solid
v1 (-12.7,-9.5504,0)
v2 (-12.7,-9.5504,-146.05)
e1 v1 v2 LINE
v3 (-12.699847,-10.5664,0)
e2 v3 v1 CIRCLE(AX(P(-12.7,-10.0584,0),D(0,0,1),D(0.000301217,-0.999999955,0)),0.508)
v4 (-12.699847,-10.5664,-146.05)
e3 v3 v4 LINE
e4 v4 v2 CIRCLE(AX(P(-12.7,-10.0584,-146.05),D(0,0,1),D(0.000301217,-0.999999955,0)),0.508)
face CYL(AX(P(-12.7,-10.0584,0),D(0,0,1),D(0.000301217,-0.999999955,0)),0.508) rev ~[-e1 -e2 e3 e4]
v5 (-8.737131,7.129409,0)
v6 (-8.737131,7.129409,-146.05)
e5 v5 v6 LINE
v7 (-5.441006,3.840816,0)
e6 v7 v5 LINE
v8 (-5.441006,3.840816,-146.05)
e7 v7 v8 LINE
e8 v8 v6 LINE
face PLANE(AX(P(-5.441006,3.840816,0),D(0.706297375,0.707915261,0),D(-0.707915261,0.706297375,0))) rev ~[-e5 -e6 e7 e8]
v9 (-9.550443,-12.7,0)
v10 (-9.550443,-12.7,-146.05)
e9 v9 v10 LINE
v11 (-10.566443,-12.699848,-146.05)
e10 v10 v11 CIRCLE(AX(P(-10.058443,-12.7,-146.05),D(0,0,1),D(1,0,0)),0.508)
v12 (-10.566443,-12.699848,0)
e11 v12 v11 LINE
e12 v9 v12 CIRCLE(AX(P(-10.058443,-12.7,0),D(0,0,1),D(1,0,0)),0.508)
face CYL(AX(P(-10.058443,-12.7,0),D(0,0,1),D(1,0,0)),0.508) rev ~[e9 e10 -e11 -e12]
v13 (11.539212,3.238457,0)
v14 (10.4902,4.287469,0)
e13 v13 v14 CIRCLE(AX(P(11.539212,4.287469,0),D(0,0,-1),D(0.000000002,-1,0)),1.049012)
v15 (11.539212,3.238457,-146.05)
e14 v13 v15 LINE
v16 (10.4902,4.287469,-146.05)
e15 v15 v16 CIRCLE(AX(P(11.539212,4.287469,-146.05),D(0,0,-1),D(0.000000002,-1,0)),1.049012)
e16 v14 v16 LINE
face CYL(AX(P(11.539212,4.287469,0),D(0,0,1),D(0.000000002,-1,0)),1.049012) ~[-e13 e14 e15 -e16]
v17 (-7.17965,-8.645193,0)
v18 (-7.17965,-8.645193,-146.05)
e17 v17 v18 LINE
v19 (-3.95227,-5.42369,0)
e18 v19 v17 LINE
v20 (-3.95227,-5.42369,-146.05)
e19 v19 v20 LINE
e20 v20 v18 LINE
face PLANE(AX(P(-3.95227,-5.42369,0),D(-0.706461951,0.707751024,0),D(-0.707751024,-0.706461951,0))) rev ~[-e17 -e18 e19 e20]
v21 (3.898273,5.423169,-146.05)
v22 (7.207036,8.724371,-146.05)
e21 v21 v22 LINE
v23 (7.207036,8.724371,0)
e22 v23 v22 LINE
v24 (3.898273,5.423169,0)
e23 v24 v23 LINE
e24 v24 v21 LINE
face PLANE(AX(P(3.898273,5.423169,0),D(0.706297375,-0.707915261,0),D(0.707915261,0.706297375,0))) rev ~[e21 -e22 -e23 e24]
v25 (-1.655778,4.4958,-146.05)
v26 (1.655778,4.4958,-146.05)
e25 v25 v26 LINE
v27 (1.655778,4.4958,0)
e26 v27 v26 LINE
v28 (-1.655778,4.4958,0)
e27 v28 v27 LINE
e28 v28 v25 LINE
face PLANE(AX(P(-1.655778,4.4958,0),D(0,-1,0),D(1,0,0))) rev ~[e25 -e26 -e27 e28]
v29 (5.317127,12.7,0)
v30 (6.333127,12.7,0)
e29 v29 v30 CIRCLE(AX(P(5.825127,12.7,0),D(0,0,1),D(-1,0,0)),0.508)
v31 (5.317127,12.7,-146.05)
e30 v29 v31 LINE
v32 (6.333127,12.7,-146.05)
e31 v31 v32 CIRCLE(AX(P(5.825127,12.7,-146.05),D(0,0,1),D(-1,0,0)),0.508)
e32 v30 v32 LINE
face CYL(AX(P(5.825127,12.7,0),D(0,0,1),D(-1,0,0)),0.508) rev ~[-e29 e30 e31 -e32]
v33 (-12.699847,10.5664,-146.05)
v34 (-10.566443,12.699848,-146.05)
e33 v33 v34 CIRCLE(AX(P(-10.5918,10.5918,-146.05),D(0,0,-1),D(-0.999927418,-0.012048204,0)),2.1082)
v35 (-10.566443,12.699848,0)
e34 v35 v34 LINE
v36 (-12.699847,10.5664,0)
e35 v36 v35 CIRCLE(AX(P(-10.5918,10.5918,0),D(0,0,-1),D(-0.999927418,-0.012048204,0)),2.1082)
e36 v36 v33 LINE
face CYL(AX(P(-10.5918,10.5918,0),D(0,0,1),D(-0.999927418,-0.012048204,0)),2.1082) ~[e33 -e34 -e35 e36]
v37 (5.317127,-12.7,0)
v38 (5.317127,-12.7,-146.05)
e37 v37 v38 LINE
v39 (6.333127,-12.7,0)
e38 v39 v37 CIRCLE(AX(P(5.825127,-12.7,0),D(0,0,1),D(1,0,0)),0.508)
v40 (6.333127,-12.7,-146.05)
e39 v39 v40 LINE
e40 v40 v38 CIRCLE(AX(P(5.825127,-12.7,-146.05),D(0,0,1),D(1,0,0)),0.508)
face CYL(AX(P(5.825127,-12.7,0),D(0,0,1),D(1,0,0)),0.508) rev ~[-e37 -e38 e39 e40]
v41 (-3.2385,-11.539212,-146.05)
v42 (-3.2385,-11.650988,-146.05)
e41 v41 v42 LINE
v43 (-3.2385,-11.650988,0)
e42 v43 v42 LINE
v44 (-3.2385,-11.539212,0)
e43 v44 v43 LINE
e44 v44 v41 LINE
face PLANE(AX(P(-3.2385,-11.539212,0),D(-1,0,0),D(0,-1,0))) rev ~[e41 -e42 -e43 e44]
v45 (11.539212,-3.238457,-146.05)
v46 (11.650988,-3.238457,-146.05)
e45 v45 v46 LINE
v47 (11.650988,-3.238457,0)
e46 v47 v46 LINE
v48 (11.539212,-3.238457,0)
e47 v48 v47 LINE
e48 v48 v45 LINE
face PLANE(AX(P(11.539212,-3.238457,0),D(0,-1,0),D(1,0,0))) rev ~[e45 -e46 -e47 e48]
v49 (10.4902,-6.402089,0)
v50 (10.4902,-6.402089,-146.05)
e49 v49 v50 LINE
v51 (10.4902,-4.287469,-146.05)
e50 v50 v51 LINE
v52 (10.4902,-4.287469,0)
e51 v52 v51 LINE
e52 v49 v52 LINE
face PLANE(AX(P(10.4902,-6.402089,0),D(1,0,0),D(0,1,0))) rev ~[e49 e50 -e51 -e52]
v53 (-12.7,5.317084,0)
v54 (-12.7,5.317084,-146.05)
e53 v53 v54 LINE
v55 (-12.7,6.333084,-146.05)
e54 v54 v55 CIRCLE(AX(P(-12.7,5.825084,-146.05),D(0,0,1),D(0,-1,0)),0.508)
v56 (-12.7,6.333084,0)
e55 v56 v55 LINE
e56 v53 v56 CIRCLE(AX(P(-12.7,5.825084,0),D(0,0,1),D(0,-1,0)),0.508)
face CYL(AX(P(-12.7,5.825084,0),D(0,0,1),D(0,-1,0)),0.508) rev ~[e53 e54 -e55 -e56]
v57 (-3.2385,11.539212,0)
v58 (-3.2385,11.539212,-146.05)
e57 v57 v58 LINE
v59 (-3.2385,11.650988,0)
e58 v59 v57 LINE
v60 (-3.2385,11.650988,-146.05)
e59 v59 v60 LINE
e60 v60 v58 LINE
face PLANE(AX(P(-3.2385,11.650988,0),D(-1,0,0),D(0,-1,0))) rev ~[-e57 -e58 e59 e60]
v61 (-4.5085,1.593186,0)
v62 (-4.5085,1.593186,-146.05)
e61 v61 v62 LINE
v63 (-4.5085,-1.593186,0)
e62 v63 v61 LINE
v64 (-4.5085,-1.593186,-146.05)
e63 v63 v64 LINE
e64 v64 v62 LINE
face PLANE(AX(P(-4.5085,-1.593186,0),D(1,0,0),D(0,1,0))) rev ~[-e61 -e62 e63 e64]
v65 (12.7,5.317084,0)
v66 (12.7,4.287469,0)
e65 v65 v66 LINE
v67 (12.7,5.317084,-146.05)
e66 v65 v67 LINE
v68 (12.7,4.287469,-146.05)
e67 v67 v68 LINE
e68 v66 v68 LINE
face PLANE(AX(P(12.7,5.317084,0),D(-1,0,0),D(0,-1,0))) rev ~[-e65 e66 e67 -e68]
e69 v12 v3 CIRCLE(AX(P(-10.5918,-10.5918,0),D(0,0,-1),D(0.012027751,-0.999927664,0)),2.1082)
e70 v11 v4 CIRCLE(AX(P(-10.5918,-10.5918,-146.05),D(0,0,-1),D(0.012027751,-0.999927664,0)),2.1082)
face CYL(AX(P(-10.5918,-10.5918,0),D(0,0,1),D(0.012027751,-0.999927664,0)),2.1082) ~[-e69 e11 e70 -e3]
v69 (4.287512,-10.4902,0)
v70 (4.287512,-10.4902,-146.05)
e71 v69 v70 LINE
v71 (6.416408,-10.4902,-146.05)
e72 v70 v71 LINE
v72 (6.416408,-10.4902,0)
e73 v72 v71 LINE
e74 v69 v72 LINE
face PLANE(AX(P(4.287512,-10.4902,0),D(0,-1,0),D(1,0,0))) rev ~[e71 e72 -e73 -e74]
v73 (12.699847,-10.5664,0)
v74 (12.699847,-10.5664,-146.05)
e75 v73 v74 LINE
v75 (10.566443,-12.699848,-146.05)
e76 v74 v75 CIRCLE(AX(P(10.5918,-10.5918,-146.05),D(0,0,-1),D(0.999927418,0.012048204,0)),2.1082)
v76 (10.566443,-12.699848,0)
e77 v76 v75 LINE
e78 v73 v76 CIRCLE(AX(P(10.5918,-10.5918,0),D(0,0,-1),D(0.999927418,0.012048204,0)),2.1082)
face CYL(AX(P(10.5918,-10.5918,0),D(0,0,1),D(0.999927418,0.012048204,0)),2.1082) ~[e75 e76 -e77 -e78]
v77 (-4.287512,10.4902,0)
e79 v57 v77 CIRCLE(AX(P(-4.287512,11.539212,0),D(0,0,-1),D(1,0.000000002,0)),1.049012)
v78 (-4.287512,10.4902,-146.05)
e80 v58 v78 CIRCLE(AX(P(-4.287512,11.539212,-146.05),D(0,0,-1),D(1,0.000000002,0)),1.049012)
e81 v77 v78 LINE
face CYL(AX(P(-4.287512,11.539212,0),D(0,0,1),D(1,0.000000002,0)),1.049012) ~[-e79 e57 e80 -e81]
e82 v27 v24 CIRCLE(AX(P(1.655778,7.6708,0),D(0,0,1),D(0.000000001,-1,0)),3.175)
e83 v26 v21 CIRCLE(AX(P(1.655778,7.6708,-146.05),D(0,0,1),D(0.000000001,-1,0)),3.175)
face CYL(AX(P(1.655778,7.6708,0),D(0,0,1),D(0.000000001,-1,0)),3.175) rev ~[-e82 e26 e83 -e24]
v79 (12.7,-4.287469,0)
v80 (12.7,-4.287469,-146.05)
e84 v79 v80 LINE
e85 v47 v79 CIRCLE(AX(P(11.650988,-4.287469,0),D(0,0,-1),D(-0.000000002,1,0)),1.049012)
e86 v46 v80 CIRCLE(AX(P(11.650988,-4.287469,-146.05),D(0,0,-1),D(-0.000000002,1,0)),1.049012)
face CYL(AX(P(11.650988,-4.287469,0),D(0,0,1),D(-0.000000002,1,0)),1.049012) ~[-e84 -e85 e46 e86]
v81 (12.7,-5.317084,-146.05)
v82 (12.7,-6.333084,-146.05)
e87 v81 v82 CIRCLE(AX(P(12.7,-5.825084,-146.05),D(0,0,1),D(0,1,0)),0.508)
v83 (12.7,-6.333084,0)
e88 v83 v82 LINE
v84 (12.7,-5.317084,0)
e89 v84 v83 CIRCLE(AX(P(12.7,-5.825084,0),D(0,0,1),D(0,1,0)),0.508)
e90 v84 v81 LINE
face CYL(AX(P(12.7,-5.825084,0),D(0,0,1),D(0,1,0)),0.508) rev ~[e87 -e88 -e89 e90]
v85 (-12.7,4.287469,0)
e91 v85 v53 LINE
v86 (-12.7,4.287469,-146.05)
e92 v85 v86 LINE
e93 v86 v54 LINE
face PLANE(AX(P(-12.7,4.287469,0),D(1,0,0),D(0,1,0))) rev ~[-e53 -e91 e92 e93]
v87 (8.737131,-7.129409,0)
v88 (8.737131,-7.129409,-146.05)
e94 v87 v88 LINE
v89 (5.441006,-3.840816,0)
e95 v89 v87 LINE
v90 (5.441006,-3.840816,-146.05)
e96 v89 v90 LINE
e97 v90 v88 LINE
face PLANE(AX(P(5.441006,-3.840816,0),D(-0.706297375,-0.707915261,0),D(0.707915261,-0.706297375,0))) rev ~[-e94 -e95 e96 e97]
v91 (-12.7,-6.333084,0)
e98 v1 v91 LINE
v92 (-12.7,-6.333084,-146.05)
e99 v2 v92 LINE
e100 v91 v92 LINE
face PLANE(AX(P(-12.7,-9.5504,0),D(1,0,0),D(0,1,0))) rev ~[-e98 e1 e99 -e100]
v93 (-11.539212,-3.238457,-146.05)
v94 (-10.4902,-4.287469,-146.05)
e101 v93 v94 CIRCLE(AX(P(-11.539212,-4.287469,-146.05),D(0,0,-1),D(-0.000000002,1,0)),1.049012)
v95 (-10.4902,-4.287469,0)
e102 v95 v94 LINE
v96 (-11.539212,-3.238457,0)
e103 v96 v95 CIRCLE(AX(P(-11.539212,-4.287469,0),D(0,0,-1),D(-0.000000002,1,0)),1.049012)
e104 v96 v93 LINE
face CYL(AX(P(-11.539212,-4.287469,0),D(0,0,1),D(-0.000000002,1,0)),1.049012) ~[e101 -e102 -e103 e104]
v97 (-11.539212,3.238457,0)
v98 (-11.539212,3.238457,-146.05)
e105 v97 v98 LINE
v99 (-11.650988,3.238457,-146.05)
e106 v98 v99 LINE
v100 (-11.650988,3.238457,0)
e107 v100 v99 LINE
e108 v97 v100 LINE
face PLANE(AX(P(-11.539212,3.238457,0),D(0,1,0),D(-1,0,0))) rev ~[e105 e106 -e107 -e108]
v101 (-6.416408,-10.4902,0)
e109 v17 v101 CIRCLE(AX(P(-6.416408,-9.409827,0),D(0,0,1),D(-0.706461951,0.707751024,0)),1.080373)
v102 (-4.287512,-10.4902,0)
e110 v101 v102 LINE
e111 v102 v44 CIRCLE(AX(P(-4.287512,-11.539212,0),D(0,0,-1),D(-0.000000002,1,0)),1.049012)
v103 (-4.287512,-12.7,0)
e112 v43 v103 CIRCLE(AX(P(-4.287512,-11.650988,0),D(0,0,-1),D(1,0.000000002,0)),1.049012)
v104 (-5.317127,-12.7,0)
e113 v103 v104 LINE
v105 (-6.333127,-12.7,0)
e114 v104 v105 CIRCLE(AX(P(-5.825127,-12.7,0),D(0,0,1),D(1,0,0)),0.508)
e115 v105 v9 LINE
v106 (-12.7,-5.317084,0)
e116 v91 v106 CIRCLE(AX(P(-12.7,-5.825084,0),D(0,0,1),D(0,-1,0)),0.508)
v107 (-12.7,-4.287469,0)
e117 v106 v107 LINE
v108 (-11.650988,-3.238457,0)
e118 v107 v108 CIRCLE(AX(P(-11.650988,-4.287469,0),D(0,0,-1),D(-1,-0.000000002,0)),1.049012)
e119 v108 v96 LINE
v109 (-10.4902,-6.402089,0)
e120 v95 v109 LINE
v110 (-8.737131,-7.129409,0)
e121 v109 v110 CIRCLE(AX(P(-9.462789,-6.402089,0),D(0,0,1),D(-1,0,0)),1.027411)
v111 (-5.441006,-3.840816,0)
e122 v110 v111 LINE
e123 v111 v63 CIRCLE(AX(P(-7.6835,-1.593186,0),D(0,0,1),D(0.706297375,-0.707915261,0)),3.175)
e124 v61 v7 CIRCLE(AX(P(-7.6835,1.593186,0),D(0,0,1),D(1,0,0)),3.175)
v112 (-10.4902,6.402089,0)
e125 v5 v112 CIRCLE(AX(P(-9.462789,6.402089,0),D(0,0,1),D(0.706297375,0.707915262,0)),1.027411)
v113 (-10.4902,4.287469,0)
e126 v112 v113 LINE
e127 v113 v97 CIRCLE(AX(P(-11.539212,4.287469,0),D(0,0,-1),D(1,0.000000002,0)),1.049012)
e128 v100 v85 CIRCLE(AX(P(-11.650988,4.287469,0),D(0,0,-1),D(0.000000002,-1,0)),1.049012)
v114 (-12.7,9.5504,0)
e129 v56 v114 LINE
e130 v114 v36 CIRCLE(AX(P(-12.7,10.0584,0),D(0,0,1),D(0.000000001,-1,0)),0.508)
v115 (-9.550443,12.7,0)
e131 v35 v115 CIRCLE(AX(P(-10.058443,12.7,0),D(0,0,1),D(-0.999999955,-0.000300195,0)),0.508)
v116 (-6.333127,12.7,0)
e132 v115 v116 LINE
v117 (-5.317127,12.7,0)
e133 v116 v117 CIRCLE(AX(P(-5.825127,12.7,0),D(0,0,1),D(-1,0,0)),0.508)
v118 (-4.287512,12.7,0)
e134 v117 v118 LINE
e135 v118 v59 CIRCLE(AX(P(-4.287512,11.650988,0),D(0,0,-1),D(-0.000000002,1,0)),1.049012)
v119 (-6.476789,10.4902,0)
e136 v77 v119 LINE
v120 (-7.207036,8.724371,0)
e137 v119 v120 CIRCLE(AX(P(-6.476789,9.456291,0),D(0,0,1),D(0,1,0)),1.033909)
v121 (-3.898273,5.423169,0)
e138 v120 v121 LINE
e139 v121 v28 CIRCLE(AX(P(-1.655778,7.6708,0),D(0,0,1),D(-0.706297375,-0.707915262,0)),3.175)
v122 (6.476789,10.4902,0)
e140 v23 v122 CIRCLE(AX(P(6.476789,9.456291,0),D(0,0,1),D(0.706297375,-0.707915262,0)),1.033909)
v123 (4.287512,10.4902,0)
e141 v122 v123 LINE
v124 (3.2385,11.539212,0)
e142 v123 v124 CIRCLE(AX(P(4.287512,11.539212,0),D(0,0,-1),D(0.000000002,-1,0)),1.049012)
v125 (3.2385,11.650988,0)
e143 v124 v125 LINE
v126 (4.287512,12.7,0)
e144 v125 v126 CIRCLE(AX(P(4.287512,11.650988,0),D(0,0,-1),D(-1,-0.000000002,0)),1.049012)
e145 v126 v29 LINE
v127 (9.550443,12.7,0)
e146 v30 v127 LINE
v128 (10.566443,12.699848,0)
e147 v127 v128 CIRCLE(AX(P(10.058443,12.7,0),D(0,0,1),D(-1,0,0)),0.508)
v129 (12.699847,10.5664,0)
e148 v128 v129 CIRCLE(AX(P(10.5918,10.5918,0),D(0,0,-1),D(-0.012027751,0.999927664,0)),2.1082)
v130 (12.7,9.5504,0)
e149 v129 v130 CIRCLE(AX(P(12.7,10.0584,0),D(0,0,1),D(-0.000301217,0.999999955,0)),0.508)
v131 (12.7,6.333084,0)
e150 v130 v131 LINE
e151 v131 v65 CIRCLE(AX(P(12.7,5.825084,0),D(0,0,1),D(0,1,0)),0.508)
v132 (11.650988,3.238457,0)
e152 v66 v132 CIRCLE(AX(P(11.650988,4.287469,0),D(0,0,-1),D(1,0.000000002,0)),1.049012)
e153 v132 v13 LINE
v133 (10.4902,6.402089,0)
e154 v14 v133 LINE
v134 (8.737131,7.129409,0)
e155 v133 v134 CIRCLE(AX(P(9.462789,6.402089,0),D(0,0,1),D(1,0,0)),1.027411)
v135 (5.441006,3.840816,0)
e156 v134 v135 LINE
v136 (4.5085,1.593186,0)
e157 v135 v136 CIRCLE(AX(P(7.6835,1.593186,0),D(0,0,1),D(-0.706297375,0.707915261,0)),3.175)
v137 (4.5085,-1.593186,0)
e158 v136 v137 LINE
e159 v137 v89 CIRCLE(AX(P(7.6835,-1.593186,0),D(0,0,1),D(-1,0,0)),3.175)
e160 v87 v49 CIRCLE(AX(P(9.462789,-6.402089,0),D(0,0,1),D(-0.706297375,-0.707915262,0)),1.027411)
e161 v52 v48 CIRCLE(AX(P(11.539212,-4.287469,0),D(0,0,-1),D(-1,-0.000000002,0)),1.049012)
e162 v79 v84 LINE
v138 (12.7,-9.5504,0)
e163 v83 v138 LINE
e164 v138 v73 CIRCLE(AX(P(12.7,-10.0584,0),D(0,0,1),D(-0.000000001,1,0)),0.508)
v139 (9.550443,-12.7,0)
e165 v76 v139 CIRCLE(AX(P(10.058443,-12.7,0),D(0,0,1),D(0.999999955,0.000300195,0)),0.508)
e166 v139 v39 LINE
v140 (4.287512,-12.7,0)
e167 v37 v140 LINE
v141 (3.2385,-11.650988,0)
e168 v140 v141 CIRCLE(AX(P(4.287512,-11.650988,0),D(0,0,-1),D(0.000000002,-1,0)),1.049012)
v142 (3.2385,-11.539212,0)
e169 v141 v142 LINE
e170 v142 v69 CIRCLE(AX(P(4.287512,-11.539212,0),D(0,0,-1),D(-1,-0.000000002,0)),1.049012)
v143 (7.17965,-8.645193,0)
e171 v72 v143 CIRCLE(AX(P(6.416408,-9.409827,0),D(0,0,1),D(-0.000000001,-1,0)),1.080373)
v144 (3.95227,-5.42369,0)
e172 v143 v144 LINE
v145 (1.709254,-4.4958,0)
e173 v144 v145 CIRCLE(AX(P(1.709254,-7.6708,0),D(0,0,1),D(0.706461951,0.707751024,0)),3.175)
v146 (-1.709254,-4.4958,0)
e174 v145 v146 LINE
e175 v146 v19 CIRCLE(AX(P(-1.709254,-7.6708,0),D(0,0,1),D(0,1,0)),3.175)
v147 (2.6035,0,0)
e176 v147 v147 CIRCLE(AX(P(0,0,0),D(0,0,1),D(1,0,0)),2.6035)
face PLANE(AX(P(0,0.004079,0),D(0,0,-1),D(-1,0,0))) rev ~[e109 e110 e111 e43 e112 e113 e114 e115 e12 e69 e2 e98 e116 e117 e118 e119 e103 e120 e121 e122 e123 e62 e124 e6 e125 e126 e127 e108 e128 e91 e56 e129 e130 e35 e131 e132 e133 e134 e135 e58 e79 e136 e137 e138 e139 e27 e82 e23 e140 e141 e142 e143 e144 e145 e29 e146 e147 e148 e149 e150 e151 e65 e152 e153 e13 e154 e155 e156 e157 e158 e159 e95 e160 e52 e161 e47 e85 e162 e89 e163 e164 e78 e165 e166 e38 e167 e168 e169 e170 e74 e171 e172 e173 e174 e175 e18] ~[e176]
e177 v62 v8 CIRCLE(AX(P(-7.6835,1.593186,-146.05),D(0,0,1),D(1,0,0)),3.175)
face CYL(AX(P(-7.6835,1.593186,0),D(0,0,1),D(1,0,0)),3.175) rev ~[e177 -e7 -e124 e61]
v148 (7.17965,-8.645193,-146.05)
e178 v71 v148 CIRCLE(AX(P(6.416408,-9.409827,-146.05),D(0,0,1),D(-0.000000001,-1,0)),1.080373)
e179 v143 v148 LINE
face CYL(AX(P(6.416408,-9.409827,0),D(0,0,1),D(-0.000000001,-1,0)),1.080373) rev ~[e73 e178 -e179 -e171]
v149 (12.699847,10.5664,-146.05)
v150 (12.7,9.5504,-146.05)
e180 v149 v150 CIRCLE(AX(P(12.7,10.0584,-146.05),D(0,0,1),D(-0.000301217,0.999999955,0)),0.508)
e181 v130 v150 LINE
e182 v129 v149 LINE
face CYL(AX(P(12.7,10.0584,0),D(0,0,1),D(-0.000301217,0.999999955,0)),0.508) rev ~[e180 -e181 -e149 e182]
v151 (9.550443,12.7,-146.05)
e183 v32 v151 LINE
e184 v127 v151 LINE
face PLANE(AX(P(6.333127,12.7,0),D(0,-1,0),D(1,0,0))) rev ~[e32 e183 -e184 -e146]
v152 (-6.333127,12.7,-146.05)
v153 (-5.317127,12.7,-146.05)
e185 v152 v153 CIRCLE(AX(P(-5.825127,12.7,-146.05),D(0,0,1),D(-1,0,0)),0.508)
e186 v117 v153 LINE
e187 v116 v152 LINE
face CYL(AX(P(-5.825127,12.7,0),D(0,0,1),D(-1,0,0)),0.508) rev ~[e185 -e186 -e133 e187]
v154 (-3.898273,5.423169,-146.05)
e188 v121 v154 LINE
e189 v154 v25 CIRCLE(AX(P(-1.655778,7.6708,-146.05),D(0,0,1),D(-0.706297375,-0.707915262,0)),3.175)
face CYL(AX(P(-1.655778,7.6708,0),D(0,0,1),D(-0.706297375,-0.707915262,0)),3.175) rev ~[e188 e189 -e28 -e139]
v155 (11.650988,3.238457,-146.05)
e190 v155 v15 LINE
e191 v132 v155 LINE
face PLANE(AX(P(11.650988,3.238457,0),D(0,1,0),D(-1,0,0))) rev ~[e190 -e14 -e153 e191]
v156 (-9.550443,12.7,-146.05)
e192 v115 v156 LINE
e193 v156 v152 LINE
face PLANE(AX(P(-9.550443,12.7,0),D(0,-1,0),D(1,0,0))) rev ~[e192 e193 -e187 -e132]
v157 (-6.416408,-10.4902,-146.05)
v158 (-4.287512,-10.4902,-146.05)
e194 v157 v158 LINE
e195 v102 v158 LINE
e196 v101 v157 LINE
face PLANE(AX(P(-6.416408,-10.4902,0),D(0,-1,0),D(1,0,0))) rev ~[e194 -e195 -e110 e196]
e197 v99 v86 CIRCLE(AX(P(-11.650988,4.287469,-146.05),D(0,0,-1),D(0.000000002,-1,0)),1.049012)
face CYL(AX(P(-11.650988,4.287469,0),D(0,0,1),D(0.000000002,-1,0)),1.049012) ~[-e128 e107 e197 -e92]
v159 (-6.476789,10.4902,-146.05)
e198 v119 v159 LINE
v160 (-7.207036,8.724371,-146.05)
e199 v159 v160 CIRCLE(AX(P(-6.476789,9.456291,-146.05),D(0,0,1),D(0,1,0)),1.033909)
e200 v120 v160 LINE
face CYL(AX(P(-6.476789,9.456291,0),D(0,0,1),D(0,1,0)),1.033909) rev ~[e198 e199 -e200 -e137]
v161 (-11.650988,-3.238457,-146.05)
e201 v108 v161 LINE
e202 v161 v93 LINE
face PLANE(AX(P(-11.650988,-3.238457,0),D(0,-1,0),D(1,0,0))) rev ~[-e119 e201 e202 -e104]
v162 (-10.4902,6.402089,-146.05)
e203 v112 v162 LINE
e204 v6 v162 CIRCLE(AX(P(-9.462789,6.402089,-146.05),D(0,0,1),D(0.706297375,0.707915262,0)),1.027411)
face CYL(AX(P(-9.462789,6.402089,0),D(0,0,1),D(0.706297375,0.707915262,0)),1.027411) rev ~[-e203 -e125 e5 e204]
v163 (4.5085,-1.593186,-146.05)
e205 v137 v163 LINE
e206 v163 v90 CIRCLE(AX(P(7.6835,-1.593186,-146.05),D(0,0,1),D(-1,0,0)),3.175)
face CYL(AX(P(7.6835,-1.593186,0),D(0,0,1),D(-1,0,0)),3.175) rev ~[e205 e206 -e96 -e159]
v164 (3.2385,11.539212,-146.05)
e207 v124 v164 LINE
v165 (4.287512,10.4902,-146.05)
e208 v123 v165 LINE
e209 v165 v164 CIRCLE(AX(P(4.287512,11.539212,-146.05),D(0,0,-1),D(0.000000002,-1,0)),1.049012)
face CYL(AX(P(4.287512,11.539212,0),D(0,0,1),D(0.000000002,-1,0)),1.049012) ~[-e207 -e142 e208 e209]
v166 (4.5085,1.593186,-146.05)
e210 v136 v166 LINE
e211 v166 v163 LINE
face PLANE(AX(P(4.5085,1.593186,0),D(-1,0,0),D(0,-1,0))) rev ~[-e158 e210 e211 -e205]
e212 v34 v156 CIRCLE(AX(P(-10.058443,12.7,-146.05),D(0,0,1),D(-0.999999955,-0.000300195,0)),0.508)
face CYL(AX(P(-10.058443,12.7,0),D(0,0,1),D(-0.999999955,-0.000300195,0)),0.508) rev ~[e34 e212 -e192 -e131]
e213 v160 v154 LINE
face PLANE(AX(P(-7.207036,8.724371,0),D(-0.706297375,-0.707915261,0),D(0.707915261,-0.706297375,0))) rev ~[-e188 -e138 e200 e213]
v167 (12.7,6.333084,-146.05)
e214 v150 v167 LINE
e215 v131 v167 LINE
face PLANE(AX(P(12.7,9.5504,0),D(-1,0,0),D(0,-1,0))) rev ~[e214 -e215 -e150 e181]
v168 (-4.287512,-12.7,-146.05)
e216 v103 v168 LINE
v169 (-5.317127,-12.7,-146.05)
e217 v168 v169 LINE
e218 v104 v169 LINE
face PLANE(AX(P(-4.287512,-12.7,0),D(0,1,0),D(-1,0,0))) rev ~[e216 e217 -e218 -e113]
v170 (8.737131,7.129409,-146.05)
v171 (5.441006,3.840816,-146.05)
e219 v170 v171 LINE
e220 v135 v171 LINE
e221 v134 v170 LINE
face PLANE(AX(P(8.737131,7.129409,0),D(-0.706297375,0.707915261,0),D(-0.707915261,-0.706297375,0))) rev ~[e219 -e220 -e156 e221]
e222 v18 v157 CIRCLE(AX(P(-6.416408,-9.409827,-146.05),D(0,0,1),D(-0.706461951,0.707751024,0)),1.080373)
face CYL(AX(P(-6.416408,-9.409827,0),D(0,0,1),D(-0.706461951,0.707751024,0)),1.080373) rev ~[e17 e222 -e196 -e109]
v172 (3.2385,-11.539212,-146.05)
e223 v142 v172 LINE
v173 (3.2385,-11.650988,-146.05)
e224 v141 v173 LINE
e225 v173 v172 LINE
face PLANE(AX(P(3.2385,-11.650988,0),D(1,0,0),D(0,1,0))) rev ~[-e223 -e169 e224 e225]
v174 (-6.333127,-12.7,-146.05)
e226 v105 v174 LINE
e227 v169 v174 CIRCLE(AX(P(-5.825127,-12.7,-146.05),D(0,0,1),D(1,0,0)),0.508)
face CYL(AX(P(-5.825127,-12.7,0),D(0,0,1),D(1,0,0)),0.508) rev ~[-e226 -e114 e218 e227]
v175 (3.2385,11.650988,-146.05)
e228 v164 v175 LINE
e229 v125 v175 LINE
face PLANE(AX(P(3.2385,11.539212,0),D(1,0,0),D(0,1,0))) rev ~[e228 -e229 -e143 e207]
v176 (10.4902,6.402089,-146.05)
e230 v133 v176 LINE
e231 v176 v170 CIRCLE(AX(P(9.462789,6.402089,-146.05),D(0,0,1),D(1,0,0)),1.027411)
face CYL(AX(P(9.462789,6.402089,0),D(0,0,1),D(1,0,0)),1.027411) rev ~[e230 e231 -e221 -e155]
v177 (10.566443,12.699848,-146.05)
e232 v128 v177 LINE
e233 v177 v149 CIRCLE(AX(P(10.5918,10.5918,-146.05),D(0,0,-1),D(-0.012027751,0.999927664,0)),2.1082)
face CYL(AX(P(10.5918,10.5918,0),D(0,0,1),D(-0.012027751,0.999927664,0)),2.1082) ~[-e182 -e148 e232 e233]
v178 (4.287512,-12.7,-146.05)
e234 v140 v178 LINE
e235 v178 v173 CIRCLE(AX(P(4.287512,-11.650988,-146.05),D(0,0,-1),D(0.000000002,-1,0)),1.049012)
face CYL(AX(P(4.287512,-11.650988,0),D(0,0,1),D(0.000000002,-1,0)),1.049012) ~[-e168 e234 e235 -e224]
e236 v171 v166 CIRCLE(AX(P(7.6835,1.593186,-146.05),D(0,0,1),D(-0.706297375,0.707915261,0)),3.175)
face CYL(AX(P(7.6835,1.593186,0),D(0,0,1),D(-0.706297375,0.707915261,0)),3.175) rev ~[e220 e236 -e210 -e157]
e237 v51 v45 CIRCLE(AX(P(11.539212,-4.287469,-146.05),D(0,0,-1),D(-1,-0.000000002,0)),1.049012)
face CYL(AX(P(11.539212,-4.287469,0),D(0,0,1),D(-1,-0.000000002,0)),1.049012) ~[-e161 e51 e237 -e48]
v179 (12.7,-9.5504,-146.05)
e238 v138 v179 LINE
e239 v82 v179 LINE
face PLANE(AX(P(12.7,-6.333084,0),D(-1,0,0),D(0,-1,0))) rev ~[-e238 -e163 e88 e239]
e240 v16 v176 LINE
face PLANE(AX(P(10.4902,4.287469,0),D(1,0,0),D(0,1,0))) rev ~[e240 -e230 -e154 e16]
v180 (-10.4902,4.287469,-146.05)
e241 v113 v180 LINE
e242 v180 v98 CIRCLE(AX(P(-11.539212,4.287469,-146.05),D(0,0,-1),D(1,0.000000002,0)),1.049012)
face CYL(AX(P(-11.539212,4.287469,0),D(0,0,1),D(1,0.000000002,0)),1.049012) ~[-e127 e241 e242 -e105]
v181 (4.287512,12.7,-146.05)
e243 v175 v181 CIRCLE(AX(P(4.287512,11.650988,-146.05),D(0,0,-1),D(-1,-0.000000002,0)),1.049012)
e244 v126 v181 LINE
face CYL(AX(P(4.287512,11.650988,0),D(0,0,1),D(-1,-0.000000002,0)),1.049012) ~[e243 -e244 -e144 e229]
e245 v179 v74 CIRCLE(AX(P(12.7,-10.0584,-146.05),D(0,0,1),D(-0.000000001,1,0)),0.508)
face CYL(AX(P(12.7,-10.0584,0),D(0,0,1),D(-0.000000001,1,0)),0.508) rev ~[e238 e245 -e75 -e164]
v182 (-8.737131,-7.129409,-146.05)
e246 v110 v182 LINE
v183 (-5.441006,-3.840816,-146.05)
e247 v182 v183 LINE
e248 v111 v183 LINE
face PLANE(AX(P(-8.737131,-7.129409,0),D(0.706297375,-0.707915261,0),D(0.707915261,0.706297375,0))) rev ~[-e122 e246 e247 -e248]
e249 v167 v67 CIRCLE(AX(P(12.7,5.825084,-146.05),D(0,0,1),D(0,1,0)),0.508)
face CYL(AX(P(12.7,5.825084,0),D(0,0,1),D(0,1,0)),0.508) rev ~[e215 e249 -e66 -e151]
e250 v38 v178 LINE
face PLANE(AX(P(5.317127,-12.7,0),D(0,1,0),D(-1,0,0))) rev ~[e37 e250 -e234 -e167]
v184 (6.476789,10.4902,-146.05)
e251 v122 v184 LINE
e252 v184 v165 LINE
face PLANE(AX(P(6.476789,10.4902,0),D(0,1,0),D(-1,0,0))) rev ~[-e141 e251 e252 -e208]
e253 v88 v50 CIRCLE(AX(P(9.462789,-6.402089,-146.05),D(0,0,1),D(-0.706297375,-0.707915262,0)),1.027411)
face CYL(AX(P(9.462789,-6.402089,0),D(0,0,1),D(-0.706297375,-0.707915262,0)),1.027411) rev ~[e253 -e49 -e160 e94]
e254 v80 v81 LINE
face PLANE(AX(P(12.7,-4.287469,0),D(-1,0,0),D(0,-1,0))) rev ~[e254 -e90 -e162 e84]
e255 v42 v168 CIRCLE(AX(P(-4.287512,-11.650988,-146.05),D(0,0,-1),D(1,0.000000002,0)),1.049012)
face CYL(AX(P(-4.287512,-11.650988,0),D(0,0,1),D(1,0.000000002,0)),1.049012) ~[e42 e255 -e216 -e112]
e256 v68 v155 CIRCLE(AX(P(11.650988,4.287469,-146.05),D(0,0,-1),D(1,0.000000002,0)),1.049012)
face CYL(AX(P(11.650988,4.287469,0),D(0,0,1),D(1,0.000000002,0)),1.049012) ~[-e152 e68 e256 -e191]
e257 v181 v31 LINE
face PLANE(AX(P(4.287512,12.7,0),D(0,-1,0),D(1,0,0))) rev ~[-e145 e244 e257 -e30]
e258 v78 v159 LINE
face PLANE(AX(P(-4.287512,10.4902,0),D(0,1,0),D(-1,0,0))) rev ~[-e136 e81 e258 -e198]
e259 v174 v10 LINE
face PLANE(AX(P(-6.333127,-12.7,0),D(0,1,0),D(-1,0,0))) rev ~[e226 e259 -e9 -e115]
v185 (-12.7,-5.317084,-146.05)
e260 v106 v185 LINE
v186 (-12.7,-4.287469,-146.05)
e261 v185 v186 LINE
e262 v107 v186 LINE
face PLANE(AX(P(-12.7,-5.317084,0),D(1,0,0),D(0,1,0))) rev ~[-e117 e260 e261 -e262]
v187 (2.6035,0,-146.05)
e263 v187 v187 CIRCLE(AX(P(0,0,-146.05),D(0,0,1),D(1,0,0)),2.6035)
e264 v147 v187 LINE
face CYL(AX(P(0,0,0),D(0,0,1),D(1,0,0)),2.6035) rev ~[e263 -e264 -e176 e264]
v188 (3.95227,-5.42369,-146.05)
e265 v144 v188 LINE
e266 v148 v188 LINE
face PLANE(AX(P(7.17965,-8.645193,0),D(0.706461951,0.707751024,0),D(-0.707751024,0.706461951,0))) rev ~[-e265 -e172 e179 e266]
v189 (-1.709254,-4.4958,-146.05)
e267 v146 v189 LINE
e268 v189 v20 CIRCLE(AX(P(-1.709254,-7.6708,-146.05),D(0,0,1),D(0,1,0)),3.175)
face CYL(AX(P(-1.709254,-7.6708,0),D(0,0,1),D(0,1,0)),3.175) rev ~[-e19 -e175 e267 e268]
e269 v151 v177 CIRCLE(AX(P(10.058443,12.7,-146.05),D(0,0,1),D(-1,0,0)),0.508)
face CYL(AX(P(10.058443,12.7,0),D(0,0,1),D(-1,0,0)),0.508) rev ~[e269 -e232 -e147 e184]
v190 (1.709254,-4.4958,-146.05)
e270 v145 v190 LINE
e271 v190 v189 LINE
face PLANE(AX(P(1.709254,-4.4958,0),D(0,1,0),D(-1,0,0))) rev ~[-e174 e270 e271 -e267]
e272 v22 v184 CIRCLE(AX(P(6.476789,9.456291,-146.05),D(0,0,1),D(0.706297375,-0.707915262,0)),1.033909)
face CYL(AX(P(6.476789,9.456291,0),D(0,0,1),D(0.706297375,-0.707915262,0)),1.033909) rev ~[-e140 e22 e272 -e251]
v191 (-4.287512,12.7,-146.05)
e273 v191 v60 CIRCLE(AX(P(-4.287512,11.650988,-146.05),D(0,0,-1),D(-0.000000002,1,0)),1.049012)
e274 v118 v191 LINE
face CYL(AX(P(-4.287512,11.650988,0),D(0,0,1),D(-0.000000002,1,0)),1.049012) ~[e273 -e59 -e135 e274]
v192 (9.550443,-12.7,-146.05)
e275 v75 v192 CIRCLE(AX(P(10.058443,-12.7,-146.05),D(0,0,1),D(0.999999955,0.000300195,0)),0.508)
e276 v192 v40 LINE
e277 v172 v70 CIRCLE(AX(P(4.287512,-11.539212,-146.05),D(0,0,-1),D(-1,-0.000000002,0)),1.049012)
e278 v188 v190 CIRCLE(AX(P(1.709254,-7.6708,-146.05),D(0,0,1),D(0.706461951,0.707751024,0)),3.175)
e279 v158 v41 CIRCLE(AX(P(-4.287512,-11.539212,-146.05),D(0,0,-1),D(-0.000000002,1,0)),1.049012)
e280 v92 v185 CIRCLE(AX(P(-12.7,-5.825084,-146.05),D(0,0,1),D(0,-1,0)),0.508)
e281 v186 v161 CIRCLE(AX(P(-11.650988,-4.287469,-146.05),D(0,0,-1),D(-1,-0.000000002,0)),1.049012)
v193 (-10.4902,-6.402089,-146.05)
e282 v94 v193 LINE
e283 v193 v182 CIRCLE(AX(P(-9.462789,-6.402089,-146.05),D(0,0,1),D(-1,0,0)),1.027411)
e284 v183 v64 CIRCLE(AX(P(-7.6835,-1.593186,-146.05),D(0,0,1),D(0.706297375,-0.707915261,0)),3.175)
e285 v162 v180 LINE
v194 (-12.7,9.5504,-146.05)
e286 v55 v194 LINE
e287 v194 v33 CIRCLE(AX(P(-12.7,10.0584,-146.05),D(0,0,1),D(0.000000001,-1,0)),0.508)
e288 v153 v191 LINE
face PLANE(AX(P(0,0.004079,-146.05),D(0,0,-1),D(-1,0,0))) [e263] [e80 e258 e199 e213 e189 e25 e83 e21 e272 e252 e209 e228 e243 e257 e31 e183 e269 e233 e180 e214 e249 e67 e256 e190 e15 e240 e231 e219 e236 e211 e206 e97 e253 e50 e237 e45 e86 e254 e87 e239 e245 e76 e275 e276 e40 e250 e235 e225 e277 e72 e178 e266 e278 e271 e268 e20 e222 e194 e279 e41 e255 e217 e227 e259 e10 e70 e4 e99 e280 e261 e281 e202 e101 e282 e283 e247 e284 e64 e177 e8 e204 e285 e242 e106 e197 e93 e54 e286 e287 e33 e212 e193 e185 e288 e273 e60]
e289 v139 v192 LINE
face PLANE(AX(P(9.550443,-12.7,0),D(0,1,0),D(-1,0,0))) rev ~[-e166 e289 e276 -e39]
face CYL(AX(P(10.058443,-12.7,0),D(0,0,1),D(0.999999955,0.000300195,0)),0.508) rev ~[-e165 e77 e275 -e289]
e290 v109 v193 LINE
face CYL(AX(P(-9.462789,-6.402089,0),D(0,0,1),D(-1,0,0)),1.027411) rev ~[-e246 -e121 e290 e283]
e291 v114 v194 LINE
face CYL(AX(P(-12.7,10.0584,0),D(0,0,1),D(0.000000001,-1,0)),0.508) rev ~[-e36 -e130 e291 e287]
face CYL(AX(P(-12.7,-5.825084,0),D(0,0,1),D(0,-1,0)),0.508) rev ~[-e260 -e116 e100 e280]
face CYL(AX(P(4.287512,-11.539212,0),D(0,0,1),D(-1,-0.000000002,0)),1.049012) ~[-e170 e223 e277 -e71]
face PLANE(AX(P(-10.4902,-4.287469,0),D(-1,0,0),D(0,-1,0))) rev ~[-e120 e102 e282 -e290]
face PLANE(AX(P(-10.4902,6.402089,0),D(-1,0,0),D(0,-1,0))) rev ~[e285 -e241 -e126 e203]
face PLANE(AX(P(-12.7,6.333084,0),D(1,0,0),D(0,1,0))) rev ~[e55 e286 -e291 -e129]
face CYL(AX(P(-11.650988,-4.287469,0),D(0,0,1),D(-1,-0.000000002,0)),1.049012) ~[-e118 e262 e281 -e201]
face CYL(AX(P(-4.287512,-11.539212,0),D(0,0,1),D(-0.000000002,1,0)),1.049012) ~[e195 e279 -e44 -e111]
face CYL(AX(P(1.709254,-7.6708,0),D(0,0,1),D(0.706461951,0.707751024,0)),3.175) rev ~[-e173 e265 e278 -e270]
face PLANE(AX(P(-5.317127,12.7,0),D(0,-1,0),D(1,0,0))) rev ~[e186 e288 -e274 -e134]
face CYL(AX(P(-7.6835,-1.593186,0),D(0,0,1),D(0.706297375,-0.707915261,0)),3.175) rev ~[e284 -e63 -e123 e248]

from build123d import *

# Parameters (mm, degrees)
SKETCH1_R      = 2.6035
EXTRUDE1_DEPTH = 146.05


with BuildPart() as part:
    # Sketch1 → Extrude1 (new body)
    with BuildSketch(Plane.XY):
        with BuildLine():
            Line((-7.207036008, 8.724370562), (-3.898272566, 5.423169045))
            ThreePointArc((-3.898272566, 5.423169045), (-2.869120213, 4.736787962), (-1.655778399, 4.4958))
            Line((-1.655778399, 4.4958), (1.655778399, 4.4958))
            ThreePointArc((1.655778399, 4.4958), (2.869120213, 4.736787962), (3.898272566, 5.423169045))
            Line((3.898272566, 5.423169045), (7.207036008, 8.724370562))
            ThreePointArc((7.207036008, 8.724370562), (7.432222385, 9.85140422), (6.476788598, 10.4902))
            Line((6.476788598, 10.4902), (4.287512407, 10.4902))
            ThreePointArc((4.287512407, 10.4902), (3.54574862, 10.79744862), (3.2385, 11.539212407))
            Line((3.2385, 11.539212407), (3.2385, 11.650987593))
            ThreePointArc((3.2385, 11.650987593), (3.54574862, 12.39275138), (4.287512407, 12.7))
            Line((4.287512407, 12.7), (5.317126718, 12.7))
            ThreePointArc((5.317126718, 12.7), (5.825126718, 12.192), (6.333126718, 12.7))
            Line((6.333126718, 12.7), (9.550443118, 12.7))
            ThreePointArc((9.550443118, 12.7), (10.058366869, 12.192000006), (10.566443095, 12.699847501))
            ThreePointArc((10.566443095, 12.699847501), (12.082537762, 12.08250727), (12.699846982, 10.566399977))
            ThreePointArc((12.699846982, 10.566399977), (12.192000006, 10.058323491), (12.7, 9.5504))
            Line((12.7, 9.5504), (12.7, 6.3330836))
            ThreePointArc((12.7, 6.3330836), (12.192, 5.8250836), (12.7, 5.3170836))
            Line((12.7, 5.3170836), (12.7, 4.287469289))
            ThreePointArc((12.7, 4.287469289), (12.39275138, 3.545705502), (11.650987593, 3.238456882))
            Line((11.650987593, 3.238456882), (11.539212407, 3.238456882))
            ThreePointArc((11.539212407, 3.238456882), (10.79744862, 3.545705502), (10.4902, 4.287469289))
            Line((10.4902, 4.287469289), (10.4902, 6.402089023))
            ThreePointArc((10.4902, 6.402089023), (9.856505071, 7.351067942), (8.737131347, 7.129408934))
            Line((8.737131347, 7.129408934), (5.441005833, 3.840816462))
            ThreePointArc((5.441005833, 3.840816462), (4.750877967, 2.809883091), (4.5085, 1.593185507))
            Line((4.5085, 1.593185507), (4.5085, -1.593185507))
            ThreePointArc((4.5085, -1.593185507), (4.750877967, -2.809883091), (5.441005833, -3.840816462))
            Line((5.441005833, -3.840816462), (8.737131347, -7.129408934))
            ThreePointArc((8.737131347, -7.129408934), (9.856505071, -7.351067942), (10.4902, -6.402089023))
            Line((10.4902, -6.402089023), (10.4902, -4.287469289))
            ThreePointArc((10.4902, -4.287469289), (10.79744862, -3.545705502), (11.539212407, -3.238456882))
            Line((11.539212407, -3.238456882), (11.650987593, -3.238456882))
            ThreePointArc((11.650987593, -3.238456882), (12.39275138, -3.545705502), (12.7, -4.287469289))
            Line((12.7, -4.287469289), (12.7, -5.3170836))
            ThreePointArc((12.7, -5.3170836), (12.192, -5.8250836), (12.7, -6.3330836))
            Line((12.7, -6.3330836), (12.7, -9.5504))
            ThreePointArc((12.7, -9.5504), (12.192000006, -10.058323491), (12.699846982, -10.566399977))
            ThreePointArc((12.699846982, -10.566399977), (12.082537762, -12.08250727), (10.566443095, -12.699847501))
            ThreePointArc((10.566443095, -12.699847501), (10.058366869, -12.192000006), (9.550443118, -12.7))
            Line((9.550443118, -12.7), (6.333126718, -12.7))
            ThreePointArc((6.333126718, -12.7), (5.825126718, -12.192), (5.317126718, -12.7))
            Line((5.317126718, -12.7), (4.287512407, -12.7))
            ThreePointArc((4.287512407, -12.7), (3.54574862, -12.39275138), (3.2385, -11.650987593))
            Line((3.2385, -11.650987593), (3.2385, -11.539212407))
            ThreePointArc((3.2385, -11.539212407), (3.54574862, -10.79744862), (4.287512407, -10.4902))
            Line((4.287512407, -10.4902), (6.416408329, -10.4902))
            ThreePointArc((6.416408329, -10.4902), (7.41473083, -9.822813117), (7.179650497, -8.645192506))
            Line((7.179650497, -8.645192506), (3.952270251, -5.423690499))
            ThreePointArc((3.952270251, -5.423690499), (2.922936451, -4.736929036), (1.709253557, -4.4958))
            Line((1.709253557, -4.4958), (-1.709253557, -4.4958))
            ThreePointArc((-1.709253557, -4.4958), (-2.922936451, -4.736929036), (-3.952270251, -5.423690499))
            Line((-3.952270251, -5.423690499), (-7.179650497, -8.645192506))
            ThreePointArc((-7.179650497, -8.645192506), (-7.41473083, -9.822813117), (-6.416408329, -10.4902))
            Line((-6.416408329, -10.4902), (-4.287512407, -10.4902))
            ThreePointArc((-4.287512407, -10.4902), (-3.54574862, -10.79744862), (-3.2385, -11.539212407))
            Line((-3.2385, -11.539212407), (-3.2385, -11.650987593))
            ThreePointArc((-3.2385, -11.650987593), (-3.54574862, -12.39275138), (-4.287512407, -12.7))
            Line((-4.287512407, -12.7), (-5.317126718, -12.7))
            ThreePointArc((-5.317126718, -12.7), (-5.825126718, -12.192), (-6.333126718, -12.7))
            Line((-6.333126718, -12.7), (-9.550443118, -12.7))
            ThreePointArc((-9.550443118, -12.7), (-10.058366869, -12.192000006), (-10.566443095, -12.699847501))
            ThreePointArc((-10.566443095, -12.699847501), (-12.082537762, -12.08250727), (-12.699846982, -10.566399977))
            ThreePointArc((-12.699846982, -10.566399977), (-12.192000006, -10.058323491), (-12.7, -9.5504))
            Line((-12.7, -9.5504), (-12.7, -6.3330836))
            ThreePointArc((-12.7, -6.3330836), (-12.192, -5.8250836), (-12.7, -5.3170836))
            Line((-12.7, -5.3170836), (-12.7, -4.287469289))
            ThreePointArc((-12.7, -4.287469289), (-12.39275138, -3.545705502), (-11.650987593, -3.238456882))
            Line((-11.650987593, -3.238456882), (-11.539212407, -3.238456882))
            ThreePointArc((-11.539212407, -3.238456882), (-10.79744862, -3.545705502), (-10.4902, -4.287469289))
            Line((-10.4902, -4.287469289), (-10.4902, -6.402089023))
            ThreePointArc((-10.4902, -6.402089023), (-9.856505071, -7.351067942), (-8.737131347, -7.129408934))
            Line((-8.737131347, -7.129408934), (-5.441005833, -3.840816462))
            ThreePointArc((-5.441005833, -3.840816462), (-4.750877967, -2.809883091), (-4.5085, -1.593185507))
            Line((-4.5085, -1.593185507), (-4.5085, 1.593185507))
            ThreePointArc((-4.5085, 1.593185507), (-4.750877967, 2.809883091), (-5.441005833, 3.840816462))
            Line((-5.441005833, 3.840816462), (-8.737131347, 7.129408934))
            ThreePointArc((-8.737131347, 7.129408934), (-9.856505071, 7.351067942), (-10.4902, 6.402089023))
            Line((-10.4902, 6.402089023), (-10.4902, 4.287469289))
            ThreePointArc((-10.4902, 4.287469289), (-10.79744862, 3.545705502), (-11.539212407, 3.238456882))
            Line((-11.539212407, 3.238456882), (-11.650987593, 3.238456882))
            ThreePointArc((-11.650987593, 3.238456882), (-12.39275138, 3.545705502), (-12.7, 4.287469289))
            Line((-12.7, 4.287469289), (-12.7, 5.3170836))
            ThreePointArc((-12.7, 5.3170836), (-12.192, 5.8250836), (-12.7, 6.3330836))
            Line((-12.7, 6.3330836), (-12.7, 9.5504))
            ThreePointArc((-12.7, 9.5504), (-12.192000006, 10.058323491), (-12.699846982, 10.566399977))
            ThreePointArc((-12.699846982, 10.566399977), (-12.082537762, 12.08250727), (-10.566443095, 12.699847501))
            ThreePointArc((-10.566443095, 12.699847501), (-10.058366869, 12.192000006), (-9.550443118, 12.7))
            Line((-9.550443118, 12.7), (-6.333126718, 12.7))
            ThreePointArc((-6.333126718, 12.7), (-5.825126718, 12.192), (-5.317126718, 12.7))
            Line((-5.317126718, 12.7), (-4.287512407, 12.7))
            ThreePointArc((-4.287512407, 12.7), (-3.54574862, 12.39275138), (-3.2385, 11.650987593))
            Line((-3.2385, 11.650987593), (-3.2385, 11.539212407))
            ThreePointArc((-3.2385, 11.539212407), (-3.54574862, 10.79744862), (-4.287512407, 10.4902))
            Line((-4.287512407, 10.4902), (-6.476788598, 10.4902))
            ThreePointArc((-6.476788598, 10.4902), (-7.432222385, 9.85140422), (-7.207036008, 8.724370562))
        make_face()
        Circle(SKETCH1_R, mode=Mode.SUBTRACT)
    extrude(amount=-EXTRUDE1_DEPTH)


solid = part.part
